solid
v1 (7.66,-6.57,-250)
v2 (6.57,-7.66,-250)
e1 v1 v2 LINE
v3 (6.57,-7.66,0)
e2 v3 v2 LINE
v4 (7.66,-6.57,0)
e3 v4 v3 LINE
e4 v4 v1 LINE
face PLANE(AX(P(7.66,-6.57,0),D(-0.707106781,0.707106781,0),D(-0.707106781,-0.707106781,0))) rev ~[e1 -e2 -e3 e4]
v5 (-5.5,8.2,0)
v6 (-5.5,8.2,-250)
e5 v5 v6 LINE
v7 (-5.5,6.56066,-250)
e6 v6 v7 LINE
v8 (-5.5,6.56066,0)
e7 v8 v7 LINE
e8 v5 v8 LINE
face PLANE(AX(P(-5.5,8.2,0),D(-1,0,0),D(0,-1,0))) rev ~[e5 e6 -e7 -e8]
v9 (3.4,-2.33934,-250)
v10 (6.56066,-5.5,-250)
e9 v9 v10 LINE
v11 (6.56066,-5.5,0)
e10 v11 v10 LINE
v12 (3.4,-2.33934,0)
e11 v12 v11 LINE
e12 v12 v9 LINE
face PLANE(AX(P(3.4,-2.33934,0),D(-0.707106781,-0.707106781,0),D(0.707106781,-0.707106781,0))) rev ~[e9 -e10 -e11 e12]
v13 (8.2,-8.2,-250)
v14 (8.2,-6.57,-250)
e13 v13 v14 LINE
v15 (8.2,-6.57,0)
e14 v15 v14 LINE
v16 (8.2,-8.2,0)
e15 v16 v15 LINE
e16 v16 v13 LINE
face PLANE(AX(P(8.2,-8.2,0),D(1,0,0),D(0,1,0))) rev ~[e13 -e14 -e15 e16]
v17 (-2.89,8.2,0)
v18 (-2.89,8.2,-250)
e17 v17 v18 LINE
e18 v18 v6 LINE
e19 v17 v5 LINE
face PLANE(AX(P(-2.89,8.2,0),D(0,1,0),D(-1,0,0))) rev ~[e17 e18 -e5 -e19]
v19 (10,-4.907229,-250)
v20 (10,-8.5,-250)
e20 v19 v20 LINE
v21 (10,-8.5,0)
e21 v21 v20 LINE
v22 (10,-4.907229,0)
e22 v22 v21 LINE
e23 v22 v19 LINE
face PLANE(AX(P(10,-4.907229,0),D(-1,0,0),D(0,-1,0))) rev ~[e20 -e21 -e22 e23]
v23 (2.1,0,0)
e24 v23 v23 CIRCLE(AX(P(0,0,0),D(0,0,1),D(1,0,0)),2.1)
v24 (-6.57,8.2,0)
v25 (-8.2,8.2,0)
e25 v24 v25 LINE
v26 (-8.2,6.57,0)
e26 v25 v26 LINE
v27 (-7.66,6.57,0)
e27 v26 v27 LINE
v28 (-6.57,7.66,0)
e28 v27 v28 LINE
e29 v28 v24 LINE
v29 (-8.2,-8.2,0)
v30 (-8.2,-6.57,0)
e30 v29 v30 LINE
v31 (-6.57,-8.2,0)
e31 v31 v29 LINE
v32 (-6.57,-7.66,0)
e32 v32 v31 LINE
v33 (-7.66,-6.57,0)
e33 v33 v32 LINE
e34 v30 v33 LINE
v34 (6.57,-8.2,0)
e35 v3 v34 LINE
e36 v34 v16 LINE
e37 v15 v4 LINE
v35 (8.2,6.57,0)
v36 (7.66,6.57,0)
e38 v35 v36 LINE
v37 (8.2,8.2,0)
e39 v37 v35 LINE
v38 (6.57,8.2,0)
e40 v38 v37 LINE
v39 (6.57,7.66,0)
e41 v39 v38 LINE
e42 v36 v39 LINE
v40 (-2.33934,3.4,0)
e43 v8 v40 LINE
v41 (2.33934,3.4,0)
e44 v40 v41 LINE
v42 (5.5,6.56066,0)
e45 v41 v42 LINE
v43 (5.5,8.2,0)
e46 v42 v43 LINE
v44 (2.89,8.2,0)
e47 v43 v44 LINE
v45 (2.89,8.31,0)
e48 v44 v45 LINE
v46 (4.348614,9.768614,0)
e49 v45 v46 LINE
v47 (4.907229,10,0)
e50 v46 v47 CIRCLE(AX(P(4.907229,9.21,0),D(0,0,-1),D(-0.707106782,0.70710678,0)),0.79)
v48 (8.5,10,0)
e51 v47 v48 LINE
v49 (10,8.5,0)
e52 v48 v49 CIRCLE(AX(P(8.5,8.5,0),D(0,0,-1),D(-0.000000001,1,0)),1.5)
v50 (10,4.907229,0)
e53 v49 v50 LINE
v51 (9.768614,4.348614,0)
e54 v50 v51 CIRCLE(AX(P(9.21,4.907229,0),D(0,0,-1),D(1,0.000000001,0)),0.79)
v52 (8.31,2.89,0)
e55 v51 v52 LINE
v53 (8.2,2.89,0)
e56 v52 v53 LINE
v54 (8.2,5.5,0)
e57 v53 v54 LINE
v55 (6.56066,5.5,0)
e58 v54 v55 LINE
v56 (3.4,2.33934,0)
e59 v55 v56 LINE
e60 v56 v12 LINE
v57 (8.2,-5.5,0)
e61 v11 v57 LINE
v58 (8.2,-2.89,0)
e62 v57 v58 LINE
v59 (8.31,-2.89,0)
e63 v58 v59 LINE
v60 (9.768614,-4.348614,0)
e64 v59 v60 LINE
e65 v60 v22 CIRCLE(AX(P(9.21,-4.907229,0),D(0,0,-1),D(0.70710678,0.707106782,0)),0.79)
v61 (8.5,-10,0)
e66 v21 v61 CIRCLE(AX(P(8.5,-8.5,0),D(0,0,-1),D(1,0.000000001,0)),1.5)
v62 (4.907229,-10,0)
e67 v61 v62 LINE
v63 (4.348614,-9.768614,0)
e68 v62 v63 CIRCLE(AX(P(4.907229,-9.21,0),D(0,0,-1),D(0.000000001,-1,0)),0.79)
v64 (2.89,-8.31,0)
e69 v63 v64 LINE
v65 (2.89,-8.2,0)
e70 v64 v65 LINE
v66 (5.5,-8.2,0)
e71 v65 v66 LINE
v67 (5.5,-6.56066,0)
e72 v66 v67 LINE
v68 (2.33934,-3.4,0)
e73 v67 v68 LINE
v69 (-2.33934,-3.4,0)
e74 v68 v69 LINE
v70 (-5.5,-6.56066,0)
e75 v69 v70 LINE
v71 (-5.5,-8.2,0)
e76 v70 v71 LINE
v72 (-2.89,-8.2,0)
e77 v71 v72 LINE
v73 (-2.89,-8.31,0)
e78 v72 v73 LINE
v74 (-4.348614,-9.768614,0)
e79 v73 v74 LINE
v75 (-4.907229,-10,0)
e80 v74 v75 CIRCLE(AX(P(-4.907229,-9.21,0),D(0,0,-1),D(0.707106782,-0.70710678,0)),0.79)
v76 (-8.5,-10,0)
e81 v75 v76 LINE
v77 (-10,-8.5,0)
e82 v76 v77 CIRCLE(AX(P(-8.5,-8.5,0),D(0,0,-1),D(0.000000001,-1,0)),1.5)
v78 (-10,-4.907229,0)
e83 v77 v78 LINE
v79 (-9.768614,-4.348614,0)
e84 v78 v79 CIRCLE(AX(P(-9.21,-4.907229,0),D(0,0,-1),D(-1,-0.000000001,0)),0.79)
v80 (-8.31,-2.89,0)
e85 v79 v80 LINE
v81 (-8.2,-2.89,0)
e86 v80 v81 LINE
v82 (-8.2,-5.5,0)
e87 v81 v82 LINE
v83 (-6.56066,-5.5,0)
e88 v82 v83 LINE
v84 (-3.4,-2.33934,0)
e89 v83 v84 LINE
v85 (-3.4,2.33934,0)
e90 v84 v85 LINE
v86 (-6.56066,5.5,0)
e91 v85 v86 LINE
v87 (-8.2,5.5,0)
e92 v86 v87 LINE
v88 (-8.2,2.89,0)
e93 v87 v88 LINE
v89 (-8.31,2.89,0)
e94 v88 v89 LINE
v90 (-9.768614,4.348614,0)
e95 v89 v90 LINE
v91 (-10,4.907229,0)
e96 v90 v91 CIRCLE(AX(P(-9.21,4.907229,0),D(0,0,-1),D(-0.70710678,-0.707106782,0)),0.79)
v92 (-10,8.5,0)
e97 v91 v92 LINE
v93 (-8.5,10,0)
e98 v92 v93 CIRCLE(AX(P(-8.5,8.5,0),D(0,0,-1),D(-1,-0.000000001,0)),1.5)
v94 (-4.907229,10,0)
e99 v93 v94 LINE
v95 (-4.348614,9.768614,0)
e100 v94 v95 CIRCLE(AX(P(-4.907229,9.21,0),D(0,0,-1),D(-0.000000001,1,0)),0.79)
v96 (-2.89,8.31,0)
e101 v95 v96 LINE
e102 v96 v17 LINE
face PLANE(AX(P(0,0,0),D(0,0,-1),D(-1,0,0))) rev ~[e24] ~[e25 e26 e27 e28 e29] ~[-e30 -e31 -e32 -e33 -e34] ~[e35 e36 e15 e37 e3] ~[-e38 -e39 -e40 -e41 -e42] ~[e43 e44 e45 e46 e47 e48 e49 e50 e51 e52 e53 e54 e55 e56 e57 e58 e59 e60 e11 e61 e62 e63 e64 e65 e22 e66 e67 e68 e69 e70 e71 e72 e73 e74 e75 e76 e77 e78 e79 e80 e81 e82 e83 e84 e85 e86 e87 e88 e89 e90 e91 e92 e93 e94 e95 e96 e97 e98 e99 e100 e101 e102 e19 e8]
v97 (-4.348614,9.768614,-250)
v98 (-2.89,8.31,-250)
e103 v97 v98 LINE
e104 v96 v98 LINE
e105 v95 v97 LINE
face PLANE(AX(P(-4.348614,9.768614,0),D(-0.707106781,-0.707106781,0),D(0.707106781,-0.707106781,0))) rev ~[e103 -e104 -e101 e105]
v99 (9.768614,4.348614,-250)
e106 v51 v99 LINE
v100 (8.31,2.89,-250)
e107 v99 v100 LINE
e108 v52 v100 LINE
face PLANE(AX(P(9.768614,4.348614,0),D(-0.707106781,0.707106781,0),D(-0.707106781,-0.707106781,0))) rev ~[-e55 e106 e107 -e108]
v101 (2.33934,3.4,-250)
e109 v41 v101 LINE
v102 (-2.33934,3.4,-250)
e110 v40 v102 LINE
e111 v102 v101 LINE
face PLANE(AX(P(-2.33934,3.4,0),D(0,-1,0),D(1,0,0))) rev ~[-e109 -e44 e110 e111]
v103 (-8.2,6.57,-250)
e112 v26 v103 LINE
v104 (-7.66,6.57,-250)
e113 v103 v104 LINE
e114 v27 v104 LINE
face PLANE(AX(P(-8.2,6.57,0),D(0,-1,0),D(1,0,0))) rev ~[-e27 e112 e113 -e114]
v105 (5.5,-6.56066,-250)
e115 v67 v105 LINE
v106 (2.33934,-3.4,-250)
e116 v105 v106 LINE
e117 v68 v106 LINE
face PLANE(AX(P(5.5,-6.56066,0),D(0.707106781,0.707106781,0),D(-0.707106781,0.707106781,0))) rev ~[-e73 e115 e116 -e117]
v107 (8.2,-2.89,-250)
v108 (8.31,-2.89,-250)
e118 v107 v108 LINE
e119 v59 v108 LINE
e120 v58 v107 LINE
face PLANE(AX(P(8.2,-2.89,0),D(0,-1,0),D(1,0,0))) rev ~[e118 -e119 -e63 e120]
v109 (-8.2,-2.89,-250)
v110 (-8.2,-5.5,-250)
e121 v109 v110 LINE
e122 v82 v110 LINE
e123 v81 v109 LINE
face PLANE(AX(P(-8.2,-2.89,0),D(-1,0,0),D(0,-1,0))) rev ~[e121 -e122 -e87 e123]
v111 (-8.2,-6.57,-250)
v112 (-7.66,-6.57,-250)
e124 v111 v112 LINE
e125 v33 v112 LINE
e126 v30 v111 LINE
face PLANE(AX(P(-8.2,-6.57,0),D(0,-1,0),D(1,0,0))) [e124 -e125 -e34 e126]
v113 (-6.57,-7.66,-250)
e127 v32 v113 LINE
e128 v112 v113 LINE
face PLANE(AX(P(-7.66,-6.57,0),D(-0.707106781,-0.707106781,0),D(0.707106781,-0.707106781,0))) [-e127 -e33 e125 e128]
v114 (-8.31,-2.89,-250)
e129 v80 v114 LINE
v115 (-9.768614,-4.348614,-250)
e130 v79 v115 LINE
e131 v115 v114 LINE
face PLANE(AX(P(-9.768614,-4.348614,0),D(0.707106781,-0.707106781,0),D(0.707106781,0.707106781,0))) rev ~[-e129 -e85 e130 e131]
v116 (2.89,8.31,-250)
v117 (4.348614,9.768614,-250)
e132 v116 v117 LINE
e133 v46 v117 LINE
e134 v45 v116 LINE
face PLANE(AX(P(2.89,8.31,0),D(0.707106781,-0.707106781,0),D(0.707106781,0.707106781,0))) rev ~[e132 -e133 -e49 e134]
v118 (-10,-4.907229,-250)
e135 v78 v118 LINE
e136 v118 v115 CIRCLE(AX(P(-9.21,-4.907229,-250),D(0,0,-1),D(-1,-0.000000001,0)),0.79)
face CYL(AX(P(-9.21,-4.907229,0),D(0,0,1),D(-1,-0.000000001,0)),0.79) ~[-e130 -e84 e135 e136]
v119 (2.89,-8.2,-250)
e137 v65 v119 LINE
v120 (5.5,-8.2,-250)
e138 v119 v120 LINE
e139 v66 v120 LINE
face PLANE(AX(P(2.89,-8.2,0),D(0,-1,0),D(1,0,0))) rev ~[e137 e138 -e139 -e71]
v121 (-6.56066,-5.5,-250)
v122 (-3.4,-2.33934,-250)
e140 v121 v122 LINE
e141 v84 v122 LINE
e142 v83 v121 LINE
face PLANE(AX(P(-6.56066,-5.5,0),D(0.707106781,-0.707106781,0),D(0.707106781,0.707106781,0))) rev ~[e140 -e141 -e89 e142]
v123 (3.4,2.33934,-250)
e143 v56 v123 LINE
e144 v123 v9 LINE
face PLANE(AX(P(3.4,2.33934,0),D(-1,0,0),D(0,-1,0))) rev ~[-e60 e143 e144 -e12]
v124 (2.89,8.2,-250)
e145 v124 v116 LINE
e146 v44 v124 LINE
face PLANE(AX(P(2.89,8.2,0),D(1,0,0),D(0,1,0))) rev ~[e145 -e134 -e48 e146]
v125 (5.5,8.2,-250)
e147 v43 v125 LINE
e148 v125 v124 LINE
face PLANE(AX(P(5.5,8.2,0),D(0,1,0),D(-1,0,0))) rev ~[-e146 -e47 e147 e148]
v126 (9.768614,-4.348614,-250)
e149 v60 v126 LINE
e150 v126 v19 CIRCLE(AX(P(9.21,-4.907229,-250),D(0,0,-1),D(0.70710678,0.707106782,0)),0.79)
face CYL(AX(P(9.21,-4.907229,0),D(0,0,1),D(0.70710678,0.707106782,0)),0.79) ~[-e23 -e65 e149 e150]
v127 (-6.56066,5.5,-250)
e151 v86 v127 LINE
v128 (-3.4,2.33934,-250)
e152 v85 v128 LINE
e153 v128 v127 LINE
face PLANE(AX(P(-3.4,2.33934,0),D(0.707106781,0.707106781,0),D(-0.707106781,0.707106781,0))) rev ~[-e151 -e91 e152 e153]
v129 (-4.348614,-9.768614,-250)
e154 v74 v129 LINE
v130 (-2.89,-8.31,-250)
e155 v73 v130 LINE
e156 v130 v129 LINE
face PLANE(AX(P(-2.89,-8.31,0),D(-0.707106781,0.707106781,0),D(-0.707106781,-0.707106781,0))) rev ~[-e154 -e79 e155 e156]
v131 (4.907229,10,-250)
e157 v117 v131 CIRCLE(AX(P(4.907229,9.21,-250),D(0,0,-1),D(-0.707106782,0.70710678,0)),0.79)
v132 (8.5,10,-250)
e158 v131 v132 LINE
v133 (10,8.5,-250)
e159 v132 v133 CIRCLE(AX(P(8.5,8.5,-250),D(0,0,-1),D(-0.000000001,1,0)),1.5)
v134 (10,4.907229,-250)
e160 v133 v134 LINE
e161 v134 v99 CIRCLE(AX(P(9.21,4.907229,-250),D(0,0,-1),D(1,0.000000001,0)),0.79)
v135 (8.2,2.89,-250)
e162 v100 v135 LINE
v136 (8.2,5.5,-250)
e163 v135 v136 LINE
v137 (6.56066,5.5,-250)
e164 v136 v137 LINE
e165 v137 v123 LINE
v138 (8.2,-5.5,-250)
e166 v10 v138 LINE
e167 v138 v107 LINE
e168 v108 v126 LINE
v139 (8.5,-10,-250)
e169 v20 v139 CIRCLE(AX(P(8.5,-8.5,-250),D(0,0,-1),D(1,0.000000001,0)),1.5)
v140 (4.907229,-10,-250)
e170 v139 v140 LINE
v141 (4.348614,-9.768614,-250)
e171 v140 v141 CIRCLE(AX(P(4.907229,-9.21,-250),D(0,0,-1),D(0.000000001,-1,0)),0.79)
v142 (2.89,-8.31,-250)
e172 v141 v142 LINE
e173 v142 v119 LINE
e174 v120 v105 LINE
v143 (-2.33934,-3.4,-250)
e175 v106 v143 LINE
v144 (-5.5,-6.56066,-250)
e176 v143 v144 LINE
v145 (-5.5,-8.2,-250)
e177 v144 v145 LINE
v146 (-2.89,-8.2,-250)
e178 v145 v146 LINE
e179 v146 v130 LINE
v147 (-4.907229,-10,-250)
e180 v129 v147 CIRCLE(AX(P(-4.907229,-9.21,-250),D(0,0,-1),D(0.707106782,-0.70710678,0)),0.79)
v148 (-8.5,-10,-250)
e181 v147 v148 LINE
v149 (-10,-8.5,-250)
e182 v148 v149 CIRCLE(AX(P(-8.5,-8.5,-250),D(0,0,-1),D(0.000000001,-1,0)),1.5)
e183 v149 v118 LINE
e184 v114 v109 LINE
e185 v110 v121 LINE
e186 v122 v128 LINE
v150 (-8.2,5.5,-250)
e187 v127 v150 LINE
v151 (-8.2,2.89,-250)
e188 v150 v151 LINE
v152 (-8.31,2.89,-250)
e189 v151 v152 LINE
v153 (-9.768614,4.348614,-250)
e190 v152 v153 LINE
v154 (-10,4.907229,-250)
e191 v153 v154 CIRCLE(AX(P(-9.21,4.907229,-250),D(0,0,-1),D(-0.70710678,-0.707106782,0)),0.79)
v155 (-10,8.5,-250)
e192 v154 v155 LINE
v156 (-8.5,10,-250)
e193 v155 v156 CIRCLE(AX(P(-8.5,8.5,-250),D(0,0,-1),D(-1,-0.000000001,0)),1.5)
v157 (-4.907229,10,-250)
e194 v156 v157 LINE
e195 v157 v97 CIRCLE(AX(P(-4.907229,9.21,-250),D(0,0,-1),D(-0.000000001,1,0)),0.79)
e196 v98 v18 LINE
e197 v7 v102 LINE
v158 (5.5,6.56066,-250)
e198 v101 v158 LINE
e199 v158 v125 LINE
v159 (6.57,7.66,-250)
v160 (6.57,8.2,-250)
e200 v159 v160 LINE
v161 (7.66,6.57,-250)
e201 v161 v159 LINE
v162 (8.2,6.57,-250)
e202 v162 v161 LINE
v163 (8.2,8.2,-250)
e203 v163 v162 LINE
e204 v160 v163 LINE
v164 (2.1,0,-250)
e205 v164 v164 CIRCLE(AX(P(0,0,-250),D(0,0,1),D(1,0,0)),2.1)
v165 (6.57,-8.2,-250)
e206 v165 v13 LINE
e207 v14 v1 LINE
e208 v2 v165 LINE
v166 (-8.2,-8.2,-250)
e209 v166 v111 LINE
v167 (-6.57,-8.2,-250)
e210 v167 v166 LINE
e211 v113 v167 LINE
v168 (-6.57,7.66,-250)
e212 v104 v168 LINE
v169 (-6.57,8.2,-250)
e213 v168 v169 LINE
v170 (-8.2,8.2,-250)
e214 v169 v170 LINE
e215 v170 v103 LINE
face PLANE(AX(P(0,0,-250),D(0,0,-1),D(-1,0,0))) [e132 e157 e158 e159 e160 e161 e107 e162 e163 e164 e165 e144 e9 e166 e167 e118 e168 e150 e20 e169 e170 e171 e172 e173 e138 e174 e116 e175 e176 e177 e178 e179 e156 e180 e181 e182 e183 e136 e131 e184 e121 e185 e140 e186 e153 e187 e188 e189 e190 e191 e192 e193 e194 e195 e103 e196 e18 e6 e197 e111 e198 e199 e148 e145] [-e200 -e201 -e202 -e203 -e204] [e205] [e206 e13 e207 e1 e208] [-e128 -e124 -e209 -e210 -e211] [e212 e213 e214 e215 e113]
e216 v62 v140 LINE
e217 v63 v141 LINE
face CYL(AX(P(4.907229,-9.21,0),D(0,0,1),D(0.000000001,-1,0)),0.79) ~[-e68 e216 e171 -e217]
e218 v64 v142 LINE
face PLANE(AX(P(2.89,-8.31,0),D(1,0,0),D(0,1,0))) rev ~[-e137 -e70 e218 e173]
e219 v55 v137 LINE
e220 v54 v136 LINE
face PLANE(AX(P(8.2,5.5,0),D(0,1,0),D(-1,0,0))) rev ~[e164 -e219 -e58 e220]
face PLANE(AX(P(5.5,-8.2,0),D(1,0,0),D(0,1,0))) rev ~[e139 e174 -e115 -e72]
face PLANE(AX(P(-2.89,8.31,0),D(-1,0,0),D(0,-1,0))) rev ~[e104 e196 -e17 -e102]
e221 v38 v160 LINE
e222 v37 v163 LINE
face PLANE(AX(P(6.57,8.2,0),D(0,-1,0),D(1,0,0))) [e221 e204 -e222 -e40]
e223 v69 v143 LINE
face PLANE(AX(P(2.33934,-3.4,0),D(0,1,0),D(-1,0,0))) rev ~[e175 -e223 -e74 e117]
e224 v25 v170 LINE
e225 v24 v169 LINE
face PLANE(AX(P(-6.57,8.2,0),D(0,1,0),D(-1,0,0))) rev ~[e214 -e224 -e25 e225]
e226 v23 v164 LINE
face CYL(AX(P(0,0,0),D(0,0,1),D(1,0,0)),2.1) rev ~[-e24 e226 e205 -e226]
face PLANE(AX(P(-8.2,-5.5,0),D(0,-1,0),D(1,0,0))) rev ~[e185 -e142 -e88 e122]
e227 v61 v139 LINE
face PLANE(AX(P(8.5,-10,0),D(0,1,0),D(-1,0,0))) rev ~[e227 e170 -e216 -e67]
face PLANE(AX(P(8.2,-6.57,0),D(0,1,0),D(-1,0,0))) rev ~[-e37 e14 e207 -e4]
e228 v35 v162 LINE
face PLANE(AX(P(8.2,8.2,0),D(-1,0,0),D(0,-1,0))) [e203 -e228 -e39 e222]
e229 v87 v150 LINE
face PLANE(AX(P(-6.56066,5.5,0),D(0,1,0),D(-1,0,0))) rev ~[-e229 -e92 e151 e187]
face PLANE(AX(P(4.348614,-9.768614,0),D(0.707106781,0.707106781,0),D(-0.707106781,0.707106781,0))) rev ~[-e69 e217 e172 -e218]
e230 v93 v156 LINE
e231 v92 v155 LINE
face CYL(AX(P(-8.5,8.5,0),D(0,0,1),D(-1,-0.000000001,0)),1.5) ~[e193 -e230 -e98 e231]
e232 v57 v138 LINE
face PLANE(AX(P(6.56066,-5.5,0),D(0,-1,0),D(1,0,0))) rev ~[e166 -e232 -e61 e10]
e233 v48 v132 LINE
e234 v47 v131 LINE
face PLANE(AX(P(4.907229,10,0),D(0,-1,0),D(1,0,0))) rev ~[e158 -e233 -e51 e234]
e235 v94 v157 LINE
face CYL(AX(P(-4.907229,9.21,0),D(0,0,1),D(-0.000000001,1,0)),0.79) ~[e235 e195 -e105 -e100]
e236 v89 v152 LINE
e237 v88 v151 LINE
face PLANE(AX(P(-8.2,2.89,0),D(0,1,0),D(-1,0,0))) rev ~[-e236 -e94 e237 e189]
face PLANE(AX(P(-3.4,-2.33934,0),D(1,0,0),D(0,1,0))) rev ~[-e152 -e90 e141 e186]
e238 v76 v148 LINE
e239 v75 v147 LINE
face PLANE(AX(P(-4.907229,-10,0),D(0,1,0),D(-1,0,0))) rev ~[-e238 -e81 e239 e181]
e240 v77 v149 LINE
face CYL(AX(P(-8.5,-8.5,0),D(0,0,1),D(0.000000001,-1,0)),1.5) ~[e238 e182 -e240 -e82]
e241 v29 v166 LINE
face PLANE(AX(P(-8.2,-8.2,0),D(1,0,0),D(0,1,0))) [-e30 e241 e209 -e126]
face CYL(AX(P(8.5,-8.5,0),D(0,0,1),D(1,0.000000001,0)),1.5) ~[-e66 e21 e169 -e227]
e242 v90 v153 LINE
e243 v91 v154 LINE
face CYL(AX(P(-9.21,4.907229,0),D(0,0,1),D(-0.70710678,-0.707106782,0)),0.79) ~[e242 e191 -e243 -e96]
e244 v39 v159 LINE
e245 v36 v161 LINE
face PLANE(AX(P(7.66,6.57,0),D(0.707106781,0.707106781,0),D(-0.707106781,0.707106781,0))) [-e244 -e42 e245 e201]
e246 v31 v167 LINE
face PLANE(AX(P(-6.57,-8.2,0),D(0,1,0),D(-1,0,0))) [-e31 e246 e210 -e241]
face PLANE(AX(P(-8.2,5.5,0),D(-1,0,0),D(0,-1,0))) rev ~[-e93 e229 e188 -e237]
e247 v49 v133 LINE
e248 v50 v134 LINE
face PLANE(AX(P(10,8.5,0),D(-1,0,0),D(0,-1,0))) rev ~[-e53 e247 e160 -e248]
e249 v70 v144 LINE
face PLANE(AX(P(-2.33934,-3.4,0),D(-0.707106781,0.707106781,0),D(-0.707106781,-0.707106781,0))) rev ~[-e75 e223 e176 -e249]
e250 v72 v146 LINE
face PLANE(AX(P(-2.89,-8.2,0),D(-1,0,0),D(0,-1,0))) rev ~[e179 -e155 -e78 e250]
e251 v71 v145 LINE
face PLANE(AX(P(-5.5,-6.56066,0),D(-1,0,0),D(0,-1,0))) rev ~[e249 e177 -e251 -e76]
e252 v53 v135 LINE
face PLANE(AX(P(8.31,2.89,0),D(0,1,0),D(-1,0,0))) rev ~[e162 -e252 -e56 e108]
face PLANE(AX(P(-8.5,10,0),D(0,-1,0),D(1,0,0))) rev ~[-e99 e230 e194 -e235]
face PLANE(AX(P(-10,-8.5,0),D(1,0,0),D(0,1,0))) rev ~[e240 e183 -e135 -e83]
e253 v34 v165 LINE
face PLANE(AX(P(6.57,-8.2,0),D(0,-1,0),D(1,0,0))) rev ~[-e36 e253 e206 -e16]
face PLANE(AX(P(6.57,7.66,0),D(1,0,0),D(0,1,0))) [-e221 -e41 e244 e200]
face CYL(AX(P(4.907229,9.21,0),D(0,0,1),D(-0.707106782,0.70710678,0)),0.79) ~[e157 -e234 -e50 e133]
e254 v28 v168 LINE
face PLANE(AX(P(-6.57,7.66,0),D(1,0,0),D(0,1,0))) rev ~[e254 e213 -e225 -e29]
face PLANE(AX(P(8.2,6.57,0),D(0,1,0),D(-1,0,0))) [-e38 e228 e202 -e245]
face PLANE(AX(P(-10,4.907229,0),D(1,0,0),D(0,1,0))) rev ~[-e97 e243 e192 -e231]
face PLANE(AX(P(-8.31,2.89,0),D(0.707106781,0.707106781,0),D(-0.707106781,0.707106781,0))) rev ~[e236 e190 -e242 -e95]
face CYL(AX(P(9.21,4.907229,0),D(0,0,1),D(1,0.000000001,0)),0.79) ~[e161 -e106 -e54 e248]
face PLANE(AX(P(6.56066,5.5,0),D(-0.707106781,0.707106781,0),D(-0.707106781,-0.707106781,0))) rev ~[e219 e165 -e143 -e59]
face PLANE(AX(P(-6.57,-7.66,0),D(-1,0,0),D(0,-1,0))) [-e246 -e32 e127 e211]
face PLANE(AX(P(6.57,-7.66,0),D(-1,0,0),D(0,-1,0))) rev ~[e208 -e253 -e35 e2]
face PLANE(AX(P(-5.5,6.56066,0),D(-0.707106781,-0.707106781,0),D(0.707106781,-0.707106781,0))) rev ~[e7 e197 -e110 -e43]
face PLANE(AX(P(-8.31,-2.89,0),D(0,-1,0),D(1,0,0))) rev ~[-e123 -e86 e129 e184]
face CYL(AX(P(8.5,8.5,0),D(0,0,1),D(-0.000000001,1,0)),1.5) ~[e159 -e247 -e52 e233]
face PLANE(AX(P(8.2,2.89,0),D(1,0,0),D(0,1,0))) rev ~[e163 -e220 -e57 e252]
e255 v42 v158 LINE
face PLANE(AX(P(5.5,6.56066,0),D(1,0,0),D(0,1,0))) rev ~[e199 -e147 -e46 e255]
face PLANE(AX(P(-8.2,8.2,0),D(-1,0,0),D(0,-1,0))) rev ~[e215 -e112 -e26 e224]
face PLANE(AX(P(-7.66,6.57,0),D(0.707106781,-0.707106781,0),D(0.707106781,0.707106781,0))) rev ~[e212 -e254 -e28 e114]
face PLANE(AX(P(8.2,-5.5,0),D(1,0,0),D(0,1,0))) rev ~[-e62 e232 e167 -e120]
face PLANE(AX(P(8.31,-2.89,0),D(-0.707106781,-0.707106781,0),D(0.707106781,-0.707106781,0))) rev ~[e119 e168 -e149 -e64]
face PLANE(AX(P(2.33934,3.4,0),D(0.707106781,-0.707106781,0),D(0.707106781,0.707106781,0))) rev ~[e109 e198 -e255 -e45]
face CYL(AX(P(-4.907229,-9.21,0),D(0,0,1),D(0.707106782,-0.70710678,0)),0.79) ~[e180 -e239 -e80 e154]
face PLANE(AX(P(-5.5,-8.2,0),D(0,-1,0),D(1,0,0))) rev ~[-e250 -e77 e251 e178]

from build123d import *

# Parameters (mm, degrees)
SKETCH6_R           = 2.1
BOSS_EXTRUDE1_DEPTH = 250


with BuildPart() as part:
    # Sketch6 → Boss-Extrude1 (new body)
    with BuildSketch(Plane.XY):
        with BuildLine():
            Line((-3.4, -2.339339828), (-3.4, 2.339339828))
            Line((-3.4, 2.339339828), (-6.560660172, 5.5))
            Line((-6.560660172, 5.5), (-8.2, 5.5))
            Line((-8.2, 5.5), (-8.2, 2.89))
            Line((-8.2, 2.89), (-8.31, 2.89))
            Line((-8.31, 2.89), (-9.768614357, 4.348614357))
            ThreePointArc((-9.768614357, 4.348614357), (-9.939864831, 4.604908803), (-10, 4.907228714))
            Line((-10, 4.907228714), (-10, 8.5))
            ThreePointArc((-10, 8.5), (-9.560660172, 9.560660172), (-8.5, 10))
            Line((-8.5, 10), (-4.907228714, 10))
            ThreePointArc((-4.907228714, 10), (-4.604908803, 9.939864831), (-4.348614357, 9.768614357))
            Line((-4.348614357, 9.768614357), (-2.89, 8.31))
            Line((-2.89, 8.31), (-2.89, 8.2))
            Line((-2.89, 8.2), (-5.5, 8.2))
            Line((-5.5, 8.2), (-5.5, 6.560660172))
            Line((-5.5, 6.560660172), (-2.339339828, 3.4))
            Line((-2.339339828, 3.4), (2.339339828, 3.4))
            Line((2.339339828, 3.4), (5.5, 6.560660172))
            Line((5.5, 6.560660172), (5.5, 8.2))
            Line((5.5, 8.2), (2.89, 8.2))
            Line((2.89, 8.2), (2.89, 8.31))
            Line((2.89, 8.31), (4.348614357, 9.768614357))
            ThreePointArc((4.348614357, 9.768614357), (4.604908803, 9.939864831), (4.907228714, 10))
            Line((4.907228714, 10), (8.5, 10))
            ThreePointArc((8.5, 10), (9.560660172, 9.560660172), (10, 8.5))
            Line((10, 8.5), (10, 4.907228714))
            ThreePointArc((10, 4.907228714), (9.939864831, 4.604908803), (9.768614357, 4.348614357))
            Line((9.768614357, 4.348614357), (8.31, 2.89))
            Line((8.31, 2.89), (8.2, 2.89))
            Line((8.2, 2.89), (8.2, 5.5))
            Line((8.2, 5.5), (6.560660172, 5.5))
            Line((6.560660172, 5.5), (3.4, 2.339339828))
            Line((3.4, 2.339339828), (3.4, -2.339339828))
            Line((3.4, -2.339339828), (6.560660172, -5.5))
            Line((6.560660172, -5.5), (8.2, -5.5))
            Line((8.2, -5.5), (8.2, -2.89))
            Line((8.2, -2.89), (8.31, -2.89))
            Line((8.31, -2.89), (9.768614357, -4.348614357))
            ThreePointArc((9.768614357, -4.348614357), (9.939864831, -4.604908803), (10, -4.907228714))
            Line((10, -4.907228714), (10, -8.5))
            ThreePointArc((10, -8.5), (9.560660172, -9.560660172), (8.5, -10))
            Line((8.5, -10), (4.907228714, -10))
            ThreePointArc((4.907228714, -10), (4.604908803, -9.939864831), (4.348614357, -9.768614357))
            Line((4.348614357, -9.768614357), (2.89, -8.31))
            Line((2.89, -8.31), (2.89, -8.2))
            Line((2.89, -8.2), (5.5, -8.2))
            Line((5.5, -8.2), (5.5, -6.560660172))
            Line((5.5, -6.560660172), (2.339339828, -3.4))
            Line((2.339339828, -3.4), (-2.339339828, -3.4))
            Line((-2.339339828, -3.4), (-5.5, -6.560660172))
            Line((-5.5, -6.560660172), (-5.5, -8.2))
            Line((-5.5, -8.2), (-2.89, -8.2))
            Line((-2.89, -8.2), (-2.89, -8.31))
            Line((-2.89, -8.31), (-4.348614357, -9.768614357))
            ThreePointArc((-4.348614357, -9.768614357), (-4.604908803, -9.939864831), (-4.907228714, -10))
            Line((-4.907228714, -10), (-8.5, -10))
            ThreePointArc((-8.5, -10), (-9.560660172, -9.560660172), (-10, -8.5))
            Line((-10, -8.5), (-10, -4.907228714))
            ThreePointArc((-10, -4.907228714), (-9.939864831, -4.604908803), (-9.768614357, -4.348614357))
            Line((-9.768614357, -4.348614357), (-8.31, -2.89))
            Line((-8.31, -2.89), (-8.2, -2.89))
            Line((-8.2, -2.89), (-8.2, -5.5))
            Line((-8.2, -5.5), (-6.560660172, -5.5))
            Line((-6.560660172, -5.5), (-3.4, -2.339339828))
        make_face()
        Circle(SKETCH6_R, mode=Mode.SUBTRACT)
        Polygon((-7.66, 6.57), (-6.57, 7.66), (-6.57, 8.2), (-8.2, 8.2), (-8.2, 6.57), align=None, mode=Mode.SUBTRACT)
        Polygon((8.2, 6.57), (7.66, 6.57), (6.57, 7.66), (6.57, 8.2), (8.2, 8.2), align=None, mode=Mode.SUBTRACT)
        Polygon((7.66, -6.57), (6.57, -7.66), (6.57, -8.2), (8.2, -8.2), (8.2, -6.57), align=None, mode=Mode.SUBTRACT)
        Polygon((-8.2, -6.57), (-7.66, -6.57), (-6.57, -7.66), (-6.57, -8.2), (-8.2, -8.2), align=None, mode=Mode.SUBTRACT)
    extrude(amount=-BOSS_EXTRUDE1_DEPTH)


solid = part.part
